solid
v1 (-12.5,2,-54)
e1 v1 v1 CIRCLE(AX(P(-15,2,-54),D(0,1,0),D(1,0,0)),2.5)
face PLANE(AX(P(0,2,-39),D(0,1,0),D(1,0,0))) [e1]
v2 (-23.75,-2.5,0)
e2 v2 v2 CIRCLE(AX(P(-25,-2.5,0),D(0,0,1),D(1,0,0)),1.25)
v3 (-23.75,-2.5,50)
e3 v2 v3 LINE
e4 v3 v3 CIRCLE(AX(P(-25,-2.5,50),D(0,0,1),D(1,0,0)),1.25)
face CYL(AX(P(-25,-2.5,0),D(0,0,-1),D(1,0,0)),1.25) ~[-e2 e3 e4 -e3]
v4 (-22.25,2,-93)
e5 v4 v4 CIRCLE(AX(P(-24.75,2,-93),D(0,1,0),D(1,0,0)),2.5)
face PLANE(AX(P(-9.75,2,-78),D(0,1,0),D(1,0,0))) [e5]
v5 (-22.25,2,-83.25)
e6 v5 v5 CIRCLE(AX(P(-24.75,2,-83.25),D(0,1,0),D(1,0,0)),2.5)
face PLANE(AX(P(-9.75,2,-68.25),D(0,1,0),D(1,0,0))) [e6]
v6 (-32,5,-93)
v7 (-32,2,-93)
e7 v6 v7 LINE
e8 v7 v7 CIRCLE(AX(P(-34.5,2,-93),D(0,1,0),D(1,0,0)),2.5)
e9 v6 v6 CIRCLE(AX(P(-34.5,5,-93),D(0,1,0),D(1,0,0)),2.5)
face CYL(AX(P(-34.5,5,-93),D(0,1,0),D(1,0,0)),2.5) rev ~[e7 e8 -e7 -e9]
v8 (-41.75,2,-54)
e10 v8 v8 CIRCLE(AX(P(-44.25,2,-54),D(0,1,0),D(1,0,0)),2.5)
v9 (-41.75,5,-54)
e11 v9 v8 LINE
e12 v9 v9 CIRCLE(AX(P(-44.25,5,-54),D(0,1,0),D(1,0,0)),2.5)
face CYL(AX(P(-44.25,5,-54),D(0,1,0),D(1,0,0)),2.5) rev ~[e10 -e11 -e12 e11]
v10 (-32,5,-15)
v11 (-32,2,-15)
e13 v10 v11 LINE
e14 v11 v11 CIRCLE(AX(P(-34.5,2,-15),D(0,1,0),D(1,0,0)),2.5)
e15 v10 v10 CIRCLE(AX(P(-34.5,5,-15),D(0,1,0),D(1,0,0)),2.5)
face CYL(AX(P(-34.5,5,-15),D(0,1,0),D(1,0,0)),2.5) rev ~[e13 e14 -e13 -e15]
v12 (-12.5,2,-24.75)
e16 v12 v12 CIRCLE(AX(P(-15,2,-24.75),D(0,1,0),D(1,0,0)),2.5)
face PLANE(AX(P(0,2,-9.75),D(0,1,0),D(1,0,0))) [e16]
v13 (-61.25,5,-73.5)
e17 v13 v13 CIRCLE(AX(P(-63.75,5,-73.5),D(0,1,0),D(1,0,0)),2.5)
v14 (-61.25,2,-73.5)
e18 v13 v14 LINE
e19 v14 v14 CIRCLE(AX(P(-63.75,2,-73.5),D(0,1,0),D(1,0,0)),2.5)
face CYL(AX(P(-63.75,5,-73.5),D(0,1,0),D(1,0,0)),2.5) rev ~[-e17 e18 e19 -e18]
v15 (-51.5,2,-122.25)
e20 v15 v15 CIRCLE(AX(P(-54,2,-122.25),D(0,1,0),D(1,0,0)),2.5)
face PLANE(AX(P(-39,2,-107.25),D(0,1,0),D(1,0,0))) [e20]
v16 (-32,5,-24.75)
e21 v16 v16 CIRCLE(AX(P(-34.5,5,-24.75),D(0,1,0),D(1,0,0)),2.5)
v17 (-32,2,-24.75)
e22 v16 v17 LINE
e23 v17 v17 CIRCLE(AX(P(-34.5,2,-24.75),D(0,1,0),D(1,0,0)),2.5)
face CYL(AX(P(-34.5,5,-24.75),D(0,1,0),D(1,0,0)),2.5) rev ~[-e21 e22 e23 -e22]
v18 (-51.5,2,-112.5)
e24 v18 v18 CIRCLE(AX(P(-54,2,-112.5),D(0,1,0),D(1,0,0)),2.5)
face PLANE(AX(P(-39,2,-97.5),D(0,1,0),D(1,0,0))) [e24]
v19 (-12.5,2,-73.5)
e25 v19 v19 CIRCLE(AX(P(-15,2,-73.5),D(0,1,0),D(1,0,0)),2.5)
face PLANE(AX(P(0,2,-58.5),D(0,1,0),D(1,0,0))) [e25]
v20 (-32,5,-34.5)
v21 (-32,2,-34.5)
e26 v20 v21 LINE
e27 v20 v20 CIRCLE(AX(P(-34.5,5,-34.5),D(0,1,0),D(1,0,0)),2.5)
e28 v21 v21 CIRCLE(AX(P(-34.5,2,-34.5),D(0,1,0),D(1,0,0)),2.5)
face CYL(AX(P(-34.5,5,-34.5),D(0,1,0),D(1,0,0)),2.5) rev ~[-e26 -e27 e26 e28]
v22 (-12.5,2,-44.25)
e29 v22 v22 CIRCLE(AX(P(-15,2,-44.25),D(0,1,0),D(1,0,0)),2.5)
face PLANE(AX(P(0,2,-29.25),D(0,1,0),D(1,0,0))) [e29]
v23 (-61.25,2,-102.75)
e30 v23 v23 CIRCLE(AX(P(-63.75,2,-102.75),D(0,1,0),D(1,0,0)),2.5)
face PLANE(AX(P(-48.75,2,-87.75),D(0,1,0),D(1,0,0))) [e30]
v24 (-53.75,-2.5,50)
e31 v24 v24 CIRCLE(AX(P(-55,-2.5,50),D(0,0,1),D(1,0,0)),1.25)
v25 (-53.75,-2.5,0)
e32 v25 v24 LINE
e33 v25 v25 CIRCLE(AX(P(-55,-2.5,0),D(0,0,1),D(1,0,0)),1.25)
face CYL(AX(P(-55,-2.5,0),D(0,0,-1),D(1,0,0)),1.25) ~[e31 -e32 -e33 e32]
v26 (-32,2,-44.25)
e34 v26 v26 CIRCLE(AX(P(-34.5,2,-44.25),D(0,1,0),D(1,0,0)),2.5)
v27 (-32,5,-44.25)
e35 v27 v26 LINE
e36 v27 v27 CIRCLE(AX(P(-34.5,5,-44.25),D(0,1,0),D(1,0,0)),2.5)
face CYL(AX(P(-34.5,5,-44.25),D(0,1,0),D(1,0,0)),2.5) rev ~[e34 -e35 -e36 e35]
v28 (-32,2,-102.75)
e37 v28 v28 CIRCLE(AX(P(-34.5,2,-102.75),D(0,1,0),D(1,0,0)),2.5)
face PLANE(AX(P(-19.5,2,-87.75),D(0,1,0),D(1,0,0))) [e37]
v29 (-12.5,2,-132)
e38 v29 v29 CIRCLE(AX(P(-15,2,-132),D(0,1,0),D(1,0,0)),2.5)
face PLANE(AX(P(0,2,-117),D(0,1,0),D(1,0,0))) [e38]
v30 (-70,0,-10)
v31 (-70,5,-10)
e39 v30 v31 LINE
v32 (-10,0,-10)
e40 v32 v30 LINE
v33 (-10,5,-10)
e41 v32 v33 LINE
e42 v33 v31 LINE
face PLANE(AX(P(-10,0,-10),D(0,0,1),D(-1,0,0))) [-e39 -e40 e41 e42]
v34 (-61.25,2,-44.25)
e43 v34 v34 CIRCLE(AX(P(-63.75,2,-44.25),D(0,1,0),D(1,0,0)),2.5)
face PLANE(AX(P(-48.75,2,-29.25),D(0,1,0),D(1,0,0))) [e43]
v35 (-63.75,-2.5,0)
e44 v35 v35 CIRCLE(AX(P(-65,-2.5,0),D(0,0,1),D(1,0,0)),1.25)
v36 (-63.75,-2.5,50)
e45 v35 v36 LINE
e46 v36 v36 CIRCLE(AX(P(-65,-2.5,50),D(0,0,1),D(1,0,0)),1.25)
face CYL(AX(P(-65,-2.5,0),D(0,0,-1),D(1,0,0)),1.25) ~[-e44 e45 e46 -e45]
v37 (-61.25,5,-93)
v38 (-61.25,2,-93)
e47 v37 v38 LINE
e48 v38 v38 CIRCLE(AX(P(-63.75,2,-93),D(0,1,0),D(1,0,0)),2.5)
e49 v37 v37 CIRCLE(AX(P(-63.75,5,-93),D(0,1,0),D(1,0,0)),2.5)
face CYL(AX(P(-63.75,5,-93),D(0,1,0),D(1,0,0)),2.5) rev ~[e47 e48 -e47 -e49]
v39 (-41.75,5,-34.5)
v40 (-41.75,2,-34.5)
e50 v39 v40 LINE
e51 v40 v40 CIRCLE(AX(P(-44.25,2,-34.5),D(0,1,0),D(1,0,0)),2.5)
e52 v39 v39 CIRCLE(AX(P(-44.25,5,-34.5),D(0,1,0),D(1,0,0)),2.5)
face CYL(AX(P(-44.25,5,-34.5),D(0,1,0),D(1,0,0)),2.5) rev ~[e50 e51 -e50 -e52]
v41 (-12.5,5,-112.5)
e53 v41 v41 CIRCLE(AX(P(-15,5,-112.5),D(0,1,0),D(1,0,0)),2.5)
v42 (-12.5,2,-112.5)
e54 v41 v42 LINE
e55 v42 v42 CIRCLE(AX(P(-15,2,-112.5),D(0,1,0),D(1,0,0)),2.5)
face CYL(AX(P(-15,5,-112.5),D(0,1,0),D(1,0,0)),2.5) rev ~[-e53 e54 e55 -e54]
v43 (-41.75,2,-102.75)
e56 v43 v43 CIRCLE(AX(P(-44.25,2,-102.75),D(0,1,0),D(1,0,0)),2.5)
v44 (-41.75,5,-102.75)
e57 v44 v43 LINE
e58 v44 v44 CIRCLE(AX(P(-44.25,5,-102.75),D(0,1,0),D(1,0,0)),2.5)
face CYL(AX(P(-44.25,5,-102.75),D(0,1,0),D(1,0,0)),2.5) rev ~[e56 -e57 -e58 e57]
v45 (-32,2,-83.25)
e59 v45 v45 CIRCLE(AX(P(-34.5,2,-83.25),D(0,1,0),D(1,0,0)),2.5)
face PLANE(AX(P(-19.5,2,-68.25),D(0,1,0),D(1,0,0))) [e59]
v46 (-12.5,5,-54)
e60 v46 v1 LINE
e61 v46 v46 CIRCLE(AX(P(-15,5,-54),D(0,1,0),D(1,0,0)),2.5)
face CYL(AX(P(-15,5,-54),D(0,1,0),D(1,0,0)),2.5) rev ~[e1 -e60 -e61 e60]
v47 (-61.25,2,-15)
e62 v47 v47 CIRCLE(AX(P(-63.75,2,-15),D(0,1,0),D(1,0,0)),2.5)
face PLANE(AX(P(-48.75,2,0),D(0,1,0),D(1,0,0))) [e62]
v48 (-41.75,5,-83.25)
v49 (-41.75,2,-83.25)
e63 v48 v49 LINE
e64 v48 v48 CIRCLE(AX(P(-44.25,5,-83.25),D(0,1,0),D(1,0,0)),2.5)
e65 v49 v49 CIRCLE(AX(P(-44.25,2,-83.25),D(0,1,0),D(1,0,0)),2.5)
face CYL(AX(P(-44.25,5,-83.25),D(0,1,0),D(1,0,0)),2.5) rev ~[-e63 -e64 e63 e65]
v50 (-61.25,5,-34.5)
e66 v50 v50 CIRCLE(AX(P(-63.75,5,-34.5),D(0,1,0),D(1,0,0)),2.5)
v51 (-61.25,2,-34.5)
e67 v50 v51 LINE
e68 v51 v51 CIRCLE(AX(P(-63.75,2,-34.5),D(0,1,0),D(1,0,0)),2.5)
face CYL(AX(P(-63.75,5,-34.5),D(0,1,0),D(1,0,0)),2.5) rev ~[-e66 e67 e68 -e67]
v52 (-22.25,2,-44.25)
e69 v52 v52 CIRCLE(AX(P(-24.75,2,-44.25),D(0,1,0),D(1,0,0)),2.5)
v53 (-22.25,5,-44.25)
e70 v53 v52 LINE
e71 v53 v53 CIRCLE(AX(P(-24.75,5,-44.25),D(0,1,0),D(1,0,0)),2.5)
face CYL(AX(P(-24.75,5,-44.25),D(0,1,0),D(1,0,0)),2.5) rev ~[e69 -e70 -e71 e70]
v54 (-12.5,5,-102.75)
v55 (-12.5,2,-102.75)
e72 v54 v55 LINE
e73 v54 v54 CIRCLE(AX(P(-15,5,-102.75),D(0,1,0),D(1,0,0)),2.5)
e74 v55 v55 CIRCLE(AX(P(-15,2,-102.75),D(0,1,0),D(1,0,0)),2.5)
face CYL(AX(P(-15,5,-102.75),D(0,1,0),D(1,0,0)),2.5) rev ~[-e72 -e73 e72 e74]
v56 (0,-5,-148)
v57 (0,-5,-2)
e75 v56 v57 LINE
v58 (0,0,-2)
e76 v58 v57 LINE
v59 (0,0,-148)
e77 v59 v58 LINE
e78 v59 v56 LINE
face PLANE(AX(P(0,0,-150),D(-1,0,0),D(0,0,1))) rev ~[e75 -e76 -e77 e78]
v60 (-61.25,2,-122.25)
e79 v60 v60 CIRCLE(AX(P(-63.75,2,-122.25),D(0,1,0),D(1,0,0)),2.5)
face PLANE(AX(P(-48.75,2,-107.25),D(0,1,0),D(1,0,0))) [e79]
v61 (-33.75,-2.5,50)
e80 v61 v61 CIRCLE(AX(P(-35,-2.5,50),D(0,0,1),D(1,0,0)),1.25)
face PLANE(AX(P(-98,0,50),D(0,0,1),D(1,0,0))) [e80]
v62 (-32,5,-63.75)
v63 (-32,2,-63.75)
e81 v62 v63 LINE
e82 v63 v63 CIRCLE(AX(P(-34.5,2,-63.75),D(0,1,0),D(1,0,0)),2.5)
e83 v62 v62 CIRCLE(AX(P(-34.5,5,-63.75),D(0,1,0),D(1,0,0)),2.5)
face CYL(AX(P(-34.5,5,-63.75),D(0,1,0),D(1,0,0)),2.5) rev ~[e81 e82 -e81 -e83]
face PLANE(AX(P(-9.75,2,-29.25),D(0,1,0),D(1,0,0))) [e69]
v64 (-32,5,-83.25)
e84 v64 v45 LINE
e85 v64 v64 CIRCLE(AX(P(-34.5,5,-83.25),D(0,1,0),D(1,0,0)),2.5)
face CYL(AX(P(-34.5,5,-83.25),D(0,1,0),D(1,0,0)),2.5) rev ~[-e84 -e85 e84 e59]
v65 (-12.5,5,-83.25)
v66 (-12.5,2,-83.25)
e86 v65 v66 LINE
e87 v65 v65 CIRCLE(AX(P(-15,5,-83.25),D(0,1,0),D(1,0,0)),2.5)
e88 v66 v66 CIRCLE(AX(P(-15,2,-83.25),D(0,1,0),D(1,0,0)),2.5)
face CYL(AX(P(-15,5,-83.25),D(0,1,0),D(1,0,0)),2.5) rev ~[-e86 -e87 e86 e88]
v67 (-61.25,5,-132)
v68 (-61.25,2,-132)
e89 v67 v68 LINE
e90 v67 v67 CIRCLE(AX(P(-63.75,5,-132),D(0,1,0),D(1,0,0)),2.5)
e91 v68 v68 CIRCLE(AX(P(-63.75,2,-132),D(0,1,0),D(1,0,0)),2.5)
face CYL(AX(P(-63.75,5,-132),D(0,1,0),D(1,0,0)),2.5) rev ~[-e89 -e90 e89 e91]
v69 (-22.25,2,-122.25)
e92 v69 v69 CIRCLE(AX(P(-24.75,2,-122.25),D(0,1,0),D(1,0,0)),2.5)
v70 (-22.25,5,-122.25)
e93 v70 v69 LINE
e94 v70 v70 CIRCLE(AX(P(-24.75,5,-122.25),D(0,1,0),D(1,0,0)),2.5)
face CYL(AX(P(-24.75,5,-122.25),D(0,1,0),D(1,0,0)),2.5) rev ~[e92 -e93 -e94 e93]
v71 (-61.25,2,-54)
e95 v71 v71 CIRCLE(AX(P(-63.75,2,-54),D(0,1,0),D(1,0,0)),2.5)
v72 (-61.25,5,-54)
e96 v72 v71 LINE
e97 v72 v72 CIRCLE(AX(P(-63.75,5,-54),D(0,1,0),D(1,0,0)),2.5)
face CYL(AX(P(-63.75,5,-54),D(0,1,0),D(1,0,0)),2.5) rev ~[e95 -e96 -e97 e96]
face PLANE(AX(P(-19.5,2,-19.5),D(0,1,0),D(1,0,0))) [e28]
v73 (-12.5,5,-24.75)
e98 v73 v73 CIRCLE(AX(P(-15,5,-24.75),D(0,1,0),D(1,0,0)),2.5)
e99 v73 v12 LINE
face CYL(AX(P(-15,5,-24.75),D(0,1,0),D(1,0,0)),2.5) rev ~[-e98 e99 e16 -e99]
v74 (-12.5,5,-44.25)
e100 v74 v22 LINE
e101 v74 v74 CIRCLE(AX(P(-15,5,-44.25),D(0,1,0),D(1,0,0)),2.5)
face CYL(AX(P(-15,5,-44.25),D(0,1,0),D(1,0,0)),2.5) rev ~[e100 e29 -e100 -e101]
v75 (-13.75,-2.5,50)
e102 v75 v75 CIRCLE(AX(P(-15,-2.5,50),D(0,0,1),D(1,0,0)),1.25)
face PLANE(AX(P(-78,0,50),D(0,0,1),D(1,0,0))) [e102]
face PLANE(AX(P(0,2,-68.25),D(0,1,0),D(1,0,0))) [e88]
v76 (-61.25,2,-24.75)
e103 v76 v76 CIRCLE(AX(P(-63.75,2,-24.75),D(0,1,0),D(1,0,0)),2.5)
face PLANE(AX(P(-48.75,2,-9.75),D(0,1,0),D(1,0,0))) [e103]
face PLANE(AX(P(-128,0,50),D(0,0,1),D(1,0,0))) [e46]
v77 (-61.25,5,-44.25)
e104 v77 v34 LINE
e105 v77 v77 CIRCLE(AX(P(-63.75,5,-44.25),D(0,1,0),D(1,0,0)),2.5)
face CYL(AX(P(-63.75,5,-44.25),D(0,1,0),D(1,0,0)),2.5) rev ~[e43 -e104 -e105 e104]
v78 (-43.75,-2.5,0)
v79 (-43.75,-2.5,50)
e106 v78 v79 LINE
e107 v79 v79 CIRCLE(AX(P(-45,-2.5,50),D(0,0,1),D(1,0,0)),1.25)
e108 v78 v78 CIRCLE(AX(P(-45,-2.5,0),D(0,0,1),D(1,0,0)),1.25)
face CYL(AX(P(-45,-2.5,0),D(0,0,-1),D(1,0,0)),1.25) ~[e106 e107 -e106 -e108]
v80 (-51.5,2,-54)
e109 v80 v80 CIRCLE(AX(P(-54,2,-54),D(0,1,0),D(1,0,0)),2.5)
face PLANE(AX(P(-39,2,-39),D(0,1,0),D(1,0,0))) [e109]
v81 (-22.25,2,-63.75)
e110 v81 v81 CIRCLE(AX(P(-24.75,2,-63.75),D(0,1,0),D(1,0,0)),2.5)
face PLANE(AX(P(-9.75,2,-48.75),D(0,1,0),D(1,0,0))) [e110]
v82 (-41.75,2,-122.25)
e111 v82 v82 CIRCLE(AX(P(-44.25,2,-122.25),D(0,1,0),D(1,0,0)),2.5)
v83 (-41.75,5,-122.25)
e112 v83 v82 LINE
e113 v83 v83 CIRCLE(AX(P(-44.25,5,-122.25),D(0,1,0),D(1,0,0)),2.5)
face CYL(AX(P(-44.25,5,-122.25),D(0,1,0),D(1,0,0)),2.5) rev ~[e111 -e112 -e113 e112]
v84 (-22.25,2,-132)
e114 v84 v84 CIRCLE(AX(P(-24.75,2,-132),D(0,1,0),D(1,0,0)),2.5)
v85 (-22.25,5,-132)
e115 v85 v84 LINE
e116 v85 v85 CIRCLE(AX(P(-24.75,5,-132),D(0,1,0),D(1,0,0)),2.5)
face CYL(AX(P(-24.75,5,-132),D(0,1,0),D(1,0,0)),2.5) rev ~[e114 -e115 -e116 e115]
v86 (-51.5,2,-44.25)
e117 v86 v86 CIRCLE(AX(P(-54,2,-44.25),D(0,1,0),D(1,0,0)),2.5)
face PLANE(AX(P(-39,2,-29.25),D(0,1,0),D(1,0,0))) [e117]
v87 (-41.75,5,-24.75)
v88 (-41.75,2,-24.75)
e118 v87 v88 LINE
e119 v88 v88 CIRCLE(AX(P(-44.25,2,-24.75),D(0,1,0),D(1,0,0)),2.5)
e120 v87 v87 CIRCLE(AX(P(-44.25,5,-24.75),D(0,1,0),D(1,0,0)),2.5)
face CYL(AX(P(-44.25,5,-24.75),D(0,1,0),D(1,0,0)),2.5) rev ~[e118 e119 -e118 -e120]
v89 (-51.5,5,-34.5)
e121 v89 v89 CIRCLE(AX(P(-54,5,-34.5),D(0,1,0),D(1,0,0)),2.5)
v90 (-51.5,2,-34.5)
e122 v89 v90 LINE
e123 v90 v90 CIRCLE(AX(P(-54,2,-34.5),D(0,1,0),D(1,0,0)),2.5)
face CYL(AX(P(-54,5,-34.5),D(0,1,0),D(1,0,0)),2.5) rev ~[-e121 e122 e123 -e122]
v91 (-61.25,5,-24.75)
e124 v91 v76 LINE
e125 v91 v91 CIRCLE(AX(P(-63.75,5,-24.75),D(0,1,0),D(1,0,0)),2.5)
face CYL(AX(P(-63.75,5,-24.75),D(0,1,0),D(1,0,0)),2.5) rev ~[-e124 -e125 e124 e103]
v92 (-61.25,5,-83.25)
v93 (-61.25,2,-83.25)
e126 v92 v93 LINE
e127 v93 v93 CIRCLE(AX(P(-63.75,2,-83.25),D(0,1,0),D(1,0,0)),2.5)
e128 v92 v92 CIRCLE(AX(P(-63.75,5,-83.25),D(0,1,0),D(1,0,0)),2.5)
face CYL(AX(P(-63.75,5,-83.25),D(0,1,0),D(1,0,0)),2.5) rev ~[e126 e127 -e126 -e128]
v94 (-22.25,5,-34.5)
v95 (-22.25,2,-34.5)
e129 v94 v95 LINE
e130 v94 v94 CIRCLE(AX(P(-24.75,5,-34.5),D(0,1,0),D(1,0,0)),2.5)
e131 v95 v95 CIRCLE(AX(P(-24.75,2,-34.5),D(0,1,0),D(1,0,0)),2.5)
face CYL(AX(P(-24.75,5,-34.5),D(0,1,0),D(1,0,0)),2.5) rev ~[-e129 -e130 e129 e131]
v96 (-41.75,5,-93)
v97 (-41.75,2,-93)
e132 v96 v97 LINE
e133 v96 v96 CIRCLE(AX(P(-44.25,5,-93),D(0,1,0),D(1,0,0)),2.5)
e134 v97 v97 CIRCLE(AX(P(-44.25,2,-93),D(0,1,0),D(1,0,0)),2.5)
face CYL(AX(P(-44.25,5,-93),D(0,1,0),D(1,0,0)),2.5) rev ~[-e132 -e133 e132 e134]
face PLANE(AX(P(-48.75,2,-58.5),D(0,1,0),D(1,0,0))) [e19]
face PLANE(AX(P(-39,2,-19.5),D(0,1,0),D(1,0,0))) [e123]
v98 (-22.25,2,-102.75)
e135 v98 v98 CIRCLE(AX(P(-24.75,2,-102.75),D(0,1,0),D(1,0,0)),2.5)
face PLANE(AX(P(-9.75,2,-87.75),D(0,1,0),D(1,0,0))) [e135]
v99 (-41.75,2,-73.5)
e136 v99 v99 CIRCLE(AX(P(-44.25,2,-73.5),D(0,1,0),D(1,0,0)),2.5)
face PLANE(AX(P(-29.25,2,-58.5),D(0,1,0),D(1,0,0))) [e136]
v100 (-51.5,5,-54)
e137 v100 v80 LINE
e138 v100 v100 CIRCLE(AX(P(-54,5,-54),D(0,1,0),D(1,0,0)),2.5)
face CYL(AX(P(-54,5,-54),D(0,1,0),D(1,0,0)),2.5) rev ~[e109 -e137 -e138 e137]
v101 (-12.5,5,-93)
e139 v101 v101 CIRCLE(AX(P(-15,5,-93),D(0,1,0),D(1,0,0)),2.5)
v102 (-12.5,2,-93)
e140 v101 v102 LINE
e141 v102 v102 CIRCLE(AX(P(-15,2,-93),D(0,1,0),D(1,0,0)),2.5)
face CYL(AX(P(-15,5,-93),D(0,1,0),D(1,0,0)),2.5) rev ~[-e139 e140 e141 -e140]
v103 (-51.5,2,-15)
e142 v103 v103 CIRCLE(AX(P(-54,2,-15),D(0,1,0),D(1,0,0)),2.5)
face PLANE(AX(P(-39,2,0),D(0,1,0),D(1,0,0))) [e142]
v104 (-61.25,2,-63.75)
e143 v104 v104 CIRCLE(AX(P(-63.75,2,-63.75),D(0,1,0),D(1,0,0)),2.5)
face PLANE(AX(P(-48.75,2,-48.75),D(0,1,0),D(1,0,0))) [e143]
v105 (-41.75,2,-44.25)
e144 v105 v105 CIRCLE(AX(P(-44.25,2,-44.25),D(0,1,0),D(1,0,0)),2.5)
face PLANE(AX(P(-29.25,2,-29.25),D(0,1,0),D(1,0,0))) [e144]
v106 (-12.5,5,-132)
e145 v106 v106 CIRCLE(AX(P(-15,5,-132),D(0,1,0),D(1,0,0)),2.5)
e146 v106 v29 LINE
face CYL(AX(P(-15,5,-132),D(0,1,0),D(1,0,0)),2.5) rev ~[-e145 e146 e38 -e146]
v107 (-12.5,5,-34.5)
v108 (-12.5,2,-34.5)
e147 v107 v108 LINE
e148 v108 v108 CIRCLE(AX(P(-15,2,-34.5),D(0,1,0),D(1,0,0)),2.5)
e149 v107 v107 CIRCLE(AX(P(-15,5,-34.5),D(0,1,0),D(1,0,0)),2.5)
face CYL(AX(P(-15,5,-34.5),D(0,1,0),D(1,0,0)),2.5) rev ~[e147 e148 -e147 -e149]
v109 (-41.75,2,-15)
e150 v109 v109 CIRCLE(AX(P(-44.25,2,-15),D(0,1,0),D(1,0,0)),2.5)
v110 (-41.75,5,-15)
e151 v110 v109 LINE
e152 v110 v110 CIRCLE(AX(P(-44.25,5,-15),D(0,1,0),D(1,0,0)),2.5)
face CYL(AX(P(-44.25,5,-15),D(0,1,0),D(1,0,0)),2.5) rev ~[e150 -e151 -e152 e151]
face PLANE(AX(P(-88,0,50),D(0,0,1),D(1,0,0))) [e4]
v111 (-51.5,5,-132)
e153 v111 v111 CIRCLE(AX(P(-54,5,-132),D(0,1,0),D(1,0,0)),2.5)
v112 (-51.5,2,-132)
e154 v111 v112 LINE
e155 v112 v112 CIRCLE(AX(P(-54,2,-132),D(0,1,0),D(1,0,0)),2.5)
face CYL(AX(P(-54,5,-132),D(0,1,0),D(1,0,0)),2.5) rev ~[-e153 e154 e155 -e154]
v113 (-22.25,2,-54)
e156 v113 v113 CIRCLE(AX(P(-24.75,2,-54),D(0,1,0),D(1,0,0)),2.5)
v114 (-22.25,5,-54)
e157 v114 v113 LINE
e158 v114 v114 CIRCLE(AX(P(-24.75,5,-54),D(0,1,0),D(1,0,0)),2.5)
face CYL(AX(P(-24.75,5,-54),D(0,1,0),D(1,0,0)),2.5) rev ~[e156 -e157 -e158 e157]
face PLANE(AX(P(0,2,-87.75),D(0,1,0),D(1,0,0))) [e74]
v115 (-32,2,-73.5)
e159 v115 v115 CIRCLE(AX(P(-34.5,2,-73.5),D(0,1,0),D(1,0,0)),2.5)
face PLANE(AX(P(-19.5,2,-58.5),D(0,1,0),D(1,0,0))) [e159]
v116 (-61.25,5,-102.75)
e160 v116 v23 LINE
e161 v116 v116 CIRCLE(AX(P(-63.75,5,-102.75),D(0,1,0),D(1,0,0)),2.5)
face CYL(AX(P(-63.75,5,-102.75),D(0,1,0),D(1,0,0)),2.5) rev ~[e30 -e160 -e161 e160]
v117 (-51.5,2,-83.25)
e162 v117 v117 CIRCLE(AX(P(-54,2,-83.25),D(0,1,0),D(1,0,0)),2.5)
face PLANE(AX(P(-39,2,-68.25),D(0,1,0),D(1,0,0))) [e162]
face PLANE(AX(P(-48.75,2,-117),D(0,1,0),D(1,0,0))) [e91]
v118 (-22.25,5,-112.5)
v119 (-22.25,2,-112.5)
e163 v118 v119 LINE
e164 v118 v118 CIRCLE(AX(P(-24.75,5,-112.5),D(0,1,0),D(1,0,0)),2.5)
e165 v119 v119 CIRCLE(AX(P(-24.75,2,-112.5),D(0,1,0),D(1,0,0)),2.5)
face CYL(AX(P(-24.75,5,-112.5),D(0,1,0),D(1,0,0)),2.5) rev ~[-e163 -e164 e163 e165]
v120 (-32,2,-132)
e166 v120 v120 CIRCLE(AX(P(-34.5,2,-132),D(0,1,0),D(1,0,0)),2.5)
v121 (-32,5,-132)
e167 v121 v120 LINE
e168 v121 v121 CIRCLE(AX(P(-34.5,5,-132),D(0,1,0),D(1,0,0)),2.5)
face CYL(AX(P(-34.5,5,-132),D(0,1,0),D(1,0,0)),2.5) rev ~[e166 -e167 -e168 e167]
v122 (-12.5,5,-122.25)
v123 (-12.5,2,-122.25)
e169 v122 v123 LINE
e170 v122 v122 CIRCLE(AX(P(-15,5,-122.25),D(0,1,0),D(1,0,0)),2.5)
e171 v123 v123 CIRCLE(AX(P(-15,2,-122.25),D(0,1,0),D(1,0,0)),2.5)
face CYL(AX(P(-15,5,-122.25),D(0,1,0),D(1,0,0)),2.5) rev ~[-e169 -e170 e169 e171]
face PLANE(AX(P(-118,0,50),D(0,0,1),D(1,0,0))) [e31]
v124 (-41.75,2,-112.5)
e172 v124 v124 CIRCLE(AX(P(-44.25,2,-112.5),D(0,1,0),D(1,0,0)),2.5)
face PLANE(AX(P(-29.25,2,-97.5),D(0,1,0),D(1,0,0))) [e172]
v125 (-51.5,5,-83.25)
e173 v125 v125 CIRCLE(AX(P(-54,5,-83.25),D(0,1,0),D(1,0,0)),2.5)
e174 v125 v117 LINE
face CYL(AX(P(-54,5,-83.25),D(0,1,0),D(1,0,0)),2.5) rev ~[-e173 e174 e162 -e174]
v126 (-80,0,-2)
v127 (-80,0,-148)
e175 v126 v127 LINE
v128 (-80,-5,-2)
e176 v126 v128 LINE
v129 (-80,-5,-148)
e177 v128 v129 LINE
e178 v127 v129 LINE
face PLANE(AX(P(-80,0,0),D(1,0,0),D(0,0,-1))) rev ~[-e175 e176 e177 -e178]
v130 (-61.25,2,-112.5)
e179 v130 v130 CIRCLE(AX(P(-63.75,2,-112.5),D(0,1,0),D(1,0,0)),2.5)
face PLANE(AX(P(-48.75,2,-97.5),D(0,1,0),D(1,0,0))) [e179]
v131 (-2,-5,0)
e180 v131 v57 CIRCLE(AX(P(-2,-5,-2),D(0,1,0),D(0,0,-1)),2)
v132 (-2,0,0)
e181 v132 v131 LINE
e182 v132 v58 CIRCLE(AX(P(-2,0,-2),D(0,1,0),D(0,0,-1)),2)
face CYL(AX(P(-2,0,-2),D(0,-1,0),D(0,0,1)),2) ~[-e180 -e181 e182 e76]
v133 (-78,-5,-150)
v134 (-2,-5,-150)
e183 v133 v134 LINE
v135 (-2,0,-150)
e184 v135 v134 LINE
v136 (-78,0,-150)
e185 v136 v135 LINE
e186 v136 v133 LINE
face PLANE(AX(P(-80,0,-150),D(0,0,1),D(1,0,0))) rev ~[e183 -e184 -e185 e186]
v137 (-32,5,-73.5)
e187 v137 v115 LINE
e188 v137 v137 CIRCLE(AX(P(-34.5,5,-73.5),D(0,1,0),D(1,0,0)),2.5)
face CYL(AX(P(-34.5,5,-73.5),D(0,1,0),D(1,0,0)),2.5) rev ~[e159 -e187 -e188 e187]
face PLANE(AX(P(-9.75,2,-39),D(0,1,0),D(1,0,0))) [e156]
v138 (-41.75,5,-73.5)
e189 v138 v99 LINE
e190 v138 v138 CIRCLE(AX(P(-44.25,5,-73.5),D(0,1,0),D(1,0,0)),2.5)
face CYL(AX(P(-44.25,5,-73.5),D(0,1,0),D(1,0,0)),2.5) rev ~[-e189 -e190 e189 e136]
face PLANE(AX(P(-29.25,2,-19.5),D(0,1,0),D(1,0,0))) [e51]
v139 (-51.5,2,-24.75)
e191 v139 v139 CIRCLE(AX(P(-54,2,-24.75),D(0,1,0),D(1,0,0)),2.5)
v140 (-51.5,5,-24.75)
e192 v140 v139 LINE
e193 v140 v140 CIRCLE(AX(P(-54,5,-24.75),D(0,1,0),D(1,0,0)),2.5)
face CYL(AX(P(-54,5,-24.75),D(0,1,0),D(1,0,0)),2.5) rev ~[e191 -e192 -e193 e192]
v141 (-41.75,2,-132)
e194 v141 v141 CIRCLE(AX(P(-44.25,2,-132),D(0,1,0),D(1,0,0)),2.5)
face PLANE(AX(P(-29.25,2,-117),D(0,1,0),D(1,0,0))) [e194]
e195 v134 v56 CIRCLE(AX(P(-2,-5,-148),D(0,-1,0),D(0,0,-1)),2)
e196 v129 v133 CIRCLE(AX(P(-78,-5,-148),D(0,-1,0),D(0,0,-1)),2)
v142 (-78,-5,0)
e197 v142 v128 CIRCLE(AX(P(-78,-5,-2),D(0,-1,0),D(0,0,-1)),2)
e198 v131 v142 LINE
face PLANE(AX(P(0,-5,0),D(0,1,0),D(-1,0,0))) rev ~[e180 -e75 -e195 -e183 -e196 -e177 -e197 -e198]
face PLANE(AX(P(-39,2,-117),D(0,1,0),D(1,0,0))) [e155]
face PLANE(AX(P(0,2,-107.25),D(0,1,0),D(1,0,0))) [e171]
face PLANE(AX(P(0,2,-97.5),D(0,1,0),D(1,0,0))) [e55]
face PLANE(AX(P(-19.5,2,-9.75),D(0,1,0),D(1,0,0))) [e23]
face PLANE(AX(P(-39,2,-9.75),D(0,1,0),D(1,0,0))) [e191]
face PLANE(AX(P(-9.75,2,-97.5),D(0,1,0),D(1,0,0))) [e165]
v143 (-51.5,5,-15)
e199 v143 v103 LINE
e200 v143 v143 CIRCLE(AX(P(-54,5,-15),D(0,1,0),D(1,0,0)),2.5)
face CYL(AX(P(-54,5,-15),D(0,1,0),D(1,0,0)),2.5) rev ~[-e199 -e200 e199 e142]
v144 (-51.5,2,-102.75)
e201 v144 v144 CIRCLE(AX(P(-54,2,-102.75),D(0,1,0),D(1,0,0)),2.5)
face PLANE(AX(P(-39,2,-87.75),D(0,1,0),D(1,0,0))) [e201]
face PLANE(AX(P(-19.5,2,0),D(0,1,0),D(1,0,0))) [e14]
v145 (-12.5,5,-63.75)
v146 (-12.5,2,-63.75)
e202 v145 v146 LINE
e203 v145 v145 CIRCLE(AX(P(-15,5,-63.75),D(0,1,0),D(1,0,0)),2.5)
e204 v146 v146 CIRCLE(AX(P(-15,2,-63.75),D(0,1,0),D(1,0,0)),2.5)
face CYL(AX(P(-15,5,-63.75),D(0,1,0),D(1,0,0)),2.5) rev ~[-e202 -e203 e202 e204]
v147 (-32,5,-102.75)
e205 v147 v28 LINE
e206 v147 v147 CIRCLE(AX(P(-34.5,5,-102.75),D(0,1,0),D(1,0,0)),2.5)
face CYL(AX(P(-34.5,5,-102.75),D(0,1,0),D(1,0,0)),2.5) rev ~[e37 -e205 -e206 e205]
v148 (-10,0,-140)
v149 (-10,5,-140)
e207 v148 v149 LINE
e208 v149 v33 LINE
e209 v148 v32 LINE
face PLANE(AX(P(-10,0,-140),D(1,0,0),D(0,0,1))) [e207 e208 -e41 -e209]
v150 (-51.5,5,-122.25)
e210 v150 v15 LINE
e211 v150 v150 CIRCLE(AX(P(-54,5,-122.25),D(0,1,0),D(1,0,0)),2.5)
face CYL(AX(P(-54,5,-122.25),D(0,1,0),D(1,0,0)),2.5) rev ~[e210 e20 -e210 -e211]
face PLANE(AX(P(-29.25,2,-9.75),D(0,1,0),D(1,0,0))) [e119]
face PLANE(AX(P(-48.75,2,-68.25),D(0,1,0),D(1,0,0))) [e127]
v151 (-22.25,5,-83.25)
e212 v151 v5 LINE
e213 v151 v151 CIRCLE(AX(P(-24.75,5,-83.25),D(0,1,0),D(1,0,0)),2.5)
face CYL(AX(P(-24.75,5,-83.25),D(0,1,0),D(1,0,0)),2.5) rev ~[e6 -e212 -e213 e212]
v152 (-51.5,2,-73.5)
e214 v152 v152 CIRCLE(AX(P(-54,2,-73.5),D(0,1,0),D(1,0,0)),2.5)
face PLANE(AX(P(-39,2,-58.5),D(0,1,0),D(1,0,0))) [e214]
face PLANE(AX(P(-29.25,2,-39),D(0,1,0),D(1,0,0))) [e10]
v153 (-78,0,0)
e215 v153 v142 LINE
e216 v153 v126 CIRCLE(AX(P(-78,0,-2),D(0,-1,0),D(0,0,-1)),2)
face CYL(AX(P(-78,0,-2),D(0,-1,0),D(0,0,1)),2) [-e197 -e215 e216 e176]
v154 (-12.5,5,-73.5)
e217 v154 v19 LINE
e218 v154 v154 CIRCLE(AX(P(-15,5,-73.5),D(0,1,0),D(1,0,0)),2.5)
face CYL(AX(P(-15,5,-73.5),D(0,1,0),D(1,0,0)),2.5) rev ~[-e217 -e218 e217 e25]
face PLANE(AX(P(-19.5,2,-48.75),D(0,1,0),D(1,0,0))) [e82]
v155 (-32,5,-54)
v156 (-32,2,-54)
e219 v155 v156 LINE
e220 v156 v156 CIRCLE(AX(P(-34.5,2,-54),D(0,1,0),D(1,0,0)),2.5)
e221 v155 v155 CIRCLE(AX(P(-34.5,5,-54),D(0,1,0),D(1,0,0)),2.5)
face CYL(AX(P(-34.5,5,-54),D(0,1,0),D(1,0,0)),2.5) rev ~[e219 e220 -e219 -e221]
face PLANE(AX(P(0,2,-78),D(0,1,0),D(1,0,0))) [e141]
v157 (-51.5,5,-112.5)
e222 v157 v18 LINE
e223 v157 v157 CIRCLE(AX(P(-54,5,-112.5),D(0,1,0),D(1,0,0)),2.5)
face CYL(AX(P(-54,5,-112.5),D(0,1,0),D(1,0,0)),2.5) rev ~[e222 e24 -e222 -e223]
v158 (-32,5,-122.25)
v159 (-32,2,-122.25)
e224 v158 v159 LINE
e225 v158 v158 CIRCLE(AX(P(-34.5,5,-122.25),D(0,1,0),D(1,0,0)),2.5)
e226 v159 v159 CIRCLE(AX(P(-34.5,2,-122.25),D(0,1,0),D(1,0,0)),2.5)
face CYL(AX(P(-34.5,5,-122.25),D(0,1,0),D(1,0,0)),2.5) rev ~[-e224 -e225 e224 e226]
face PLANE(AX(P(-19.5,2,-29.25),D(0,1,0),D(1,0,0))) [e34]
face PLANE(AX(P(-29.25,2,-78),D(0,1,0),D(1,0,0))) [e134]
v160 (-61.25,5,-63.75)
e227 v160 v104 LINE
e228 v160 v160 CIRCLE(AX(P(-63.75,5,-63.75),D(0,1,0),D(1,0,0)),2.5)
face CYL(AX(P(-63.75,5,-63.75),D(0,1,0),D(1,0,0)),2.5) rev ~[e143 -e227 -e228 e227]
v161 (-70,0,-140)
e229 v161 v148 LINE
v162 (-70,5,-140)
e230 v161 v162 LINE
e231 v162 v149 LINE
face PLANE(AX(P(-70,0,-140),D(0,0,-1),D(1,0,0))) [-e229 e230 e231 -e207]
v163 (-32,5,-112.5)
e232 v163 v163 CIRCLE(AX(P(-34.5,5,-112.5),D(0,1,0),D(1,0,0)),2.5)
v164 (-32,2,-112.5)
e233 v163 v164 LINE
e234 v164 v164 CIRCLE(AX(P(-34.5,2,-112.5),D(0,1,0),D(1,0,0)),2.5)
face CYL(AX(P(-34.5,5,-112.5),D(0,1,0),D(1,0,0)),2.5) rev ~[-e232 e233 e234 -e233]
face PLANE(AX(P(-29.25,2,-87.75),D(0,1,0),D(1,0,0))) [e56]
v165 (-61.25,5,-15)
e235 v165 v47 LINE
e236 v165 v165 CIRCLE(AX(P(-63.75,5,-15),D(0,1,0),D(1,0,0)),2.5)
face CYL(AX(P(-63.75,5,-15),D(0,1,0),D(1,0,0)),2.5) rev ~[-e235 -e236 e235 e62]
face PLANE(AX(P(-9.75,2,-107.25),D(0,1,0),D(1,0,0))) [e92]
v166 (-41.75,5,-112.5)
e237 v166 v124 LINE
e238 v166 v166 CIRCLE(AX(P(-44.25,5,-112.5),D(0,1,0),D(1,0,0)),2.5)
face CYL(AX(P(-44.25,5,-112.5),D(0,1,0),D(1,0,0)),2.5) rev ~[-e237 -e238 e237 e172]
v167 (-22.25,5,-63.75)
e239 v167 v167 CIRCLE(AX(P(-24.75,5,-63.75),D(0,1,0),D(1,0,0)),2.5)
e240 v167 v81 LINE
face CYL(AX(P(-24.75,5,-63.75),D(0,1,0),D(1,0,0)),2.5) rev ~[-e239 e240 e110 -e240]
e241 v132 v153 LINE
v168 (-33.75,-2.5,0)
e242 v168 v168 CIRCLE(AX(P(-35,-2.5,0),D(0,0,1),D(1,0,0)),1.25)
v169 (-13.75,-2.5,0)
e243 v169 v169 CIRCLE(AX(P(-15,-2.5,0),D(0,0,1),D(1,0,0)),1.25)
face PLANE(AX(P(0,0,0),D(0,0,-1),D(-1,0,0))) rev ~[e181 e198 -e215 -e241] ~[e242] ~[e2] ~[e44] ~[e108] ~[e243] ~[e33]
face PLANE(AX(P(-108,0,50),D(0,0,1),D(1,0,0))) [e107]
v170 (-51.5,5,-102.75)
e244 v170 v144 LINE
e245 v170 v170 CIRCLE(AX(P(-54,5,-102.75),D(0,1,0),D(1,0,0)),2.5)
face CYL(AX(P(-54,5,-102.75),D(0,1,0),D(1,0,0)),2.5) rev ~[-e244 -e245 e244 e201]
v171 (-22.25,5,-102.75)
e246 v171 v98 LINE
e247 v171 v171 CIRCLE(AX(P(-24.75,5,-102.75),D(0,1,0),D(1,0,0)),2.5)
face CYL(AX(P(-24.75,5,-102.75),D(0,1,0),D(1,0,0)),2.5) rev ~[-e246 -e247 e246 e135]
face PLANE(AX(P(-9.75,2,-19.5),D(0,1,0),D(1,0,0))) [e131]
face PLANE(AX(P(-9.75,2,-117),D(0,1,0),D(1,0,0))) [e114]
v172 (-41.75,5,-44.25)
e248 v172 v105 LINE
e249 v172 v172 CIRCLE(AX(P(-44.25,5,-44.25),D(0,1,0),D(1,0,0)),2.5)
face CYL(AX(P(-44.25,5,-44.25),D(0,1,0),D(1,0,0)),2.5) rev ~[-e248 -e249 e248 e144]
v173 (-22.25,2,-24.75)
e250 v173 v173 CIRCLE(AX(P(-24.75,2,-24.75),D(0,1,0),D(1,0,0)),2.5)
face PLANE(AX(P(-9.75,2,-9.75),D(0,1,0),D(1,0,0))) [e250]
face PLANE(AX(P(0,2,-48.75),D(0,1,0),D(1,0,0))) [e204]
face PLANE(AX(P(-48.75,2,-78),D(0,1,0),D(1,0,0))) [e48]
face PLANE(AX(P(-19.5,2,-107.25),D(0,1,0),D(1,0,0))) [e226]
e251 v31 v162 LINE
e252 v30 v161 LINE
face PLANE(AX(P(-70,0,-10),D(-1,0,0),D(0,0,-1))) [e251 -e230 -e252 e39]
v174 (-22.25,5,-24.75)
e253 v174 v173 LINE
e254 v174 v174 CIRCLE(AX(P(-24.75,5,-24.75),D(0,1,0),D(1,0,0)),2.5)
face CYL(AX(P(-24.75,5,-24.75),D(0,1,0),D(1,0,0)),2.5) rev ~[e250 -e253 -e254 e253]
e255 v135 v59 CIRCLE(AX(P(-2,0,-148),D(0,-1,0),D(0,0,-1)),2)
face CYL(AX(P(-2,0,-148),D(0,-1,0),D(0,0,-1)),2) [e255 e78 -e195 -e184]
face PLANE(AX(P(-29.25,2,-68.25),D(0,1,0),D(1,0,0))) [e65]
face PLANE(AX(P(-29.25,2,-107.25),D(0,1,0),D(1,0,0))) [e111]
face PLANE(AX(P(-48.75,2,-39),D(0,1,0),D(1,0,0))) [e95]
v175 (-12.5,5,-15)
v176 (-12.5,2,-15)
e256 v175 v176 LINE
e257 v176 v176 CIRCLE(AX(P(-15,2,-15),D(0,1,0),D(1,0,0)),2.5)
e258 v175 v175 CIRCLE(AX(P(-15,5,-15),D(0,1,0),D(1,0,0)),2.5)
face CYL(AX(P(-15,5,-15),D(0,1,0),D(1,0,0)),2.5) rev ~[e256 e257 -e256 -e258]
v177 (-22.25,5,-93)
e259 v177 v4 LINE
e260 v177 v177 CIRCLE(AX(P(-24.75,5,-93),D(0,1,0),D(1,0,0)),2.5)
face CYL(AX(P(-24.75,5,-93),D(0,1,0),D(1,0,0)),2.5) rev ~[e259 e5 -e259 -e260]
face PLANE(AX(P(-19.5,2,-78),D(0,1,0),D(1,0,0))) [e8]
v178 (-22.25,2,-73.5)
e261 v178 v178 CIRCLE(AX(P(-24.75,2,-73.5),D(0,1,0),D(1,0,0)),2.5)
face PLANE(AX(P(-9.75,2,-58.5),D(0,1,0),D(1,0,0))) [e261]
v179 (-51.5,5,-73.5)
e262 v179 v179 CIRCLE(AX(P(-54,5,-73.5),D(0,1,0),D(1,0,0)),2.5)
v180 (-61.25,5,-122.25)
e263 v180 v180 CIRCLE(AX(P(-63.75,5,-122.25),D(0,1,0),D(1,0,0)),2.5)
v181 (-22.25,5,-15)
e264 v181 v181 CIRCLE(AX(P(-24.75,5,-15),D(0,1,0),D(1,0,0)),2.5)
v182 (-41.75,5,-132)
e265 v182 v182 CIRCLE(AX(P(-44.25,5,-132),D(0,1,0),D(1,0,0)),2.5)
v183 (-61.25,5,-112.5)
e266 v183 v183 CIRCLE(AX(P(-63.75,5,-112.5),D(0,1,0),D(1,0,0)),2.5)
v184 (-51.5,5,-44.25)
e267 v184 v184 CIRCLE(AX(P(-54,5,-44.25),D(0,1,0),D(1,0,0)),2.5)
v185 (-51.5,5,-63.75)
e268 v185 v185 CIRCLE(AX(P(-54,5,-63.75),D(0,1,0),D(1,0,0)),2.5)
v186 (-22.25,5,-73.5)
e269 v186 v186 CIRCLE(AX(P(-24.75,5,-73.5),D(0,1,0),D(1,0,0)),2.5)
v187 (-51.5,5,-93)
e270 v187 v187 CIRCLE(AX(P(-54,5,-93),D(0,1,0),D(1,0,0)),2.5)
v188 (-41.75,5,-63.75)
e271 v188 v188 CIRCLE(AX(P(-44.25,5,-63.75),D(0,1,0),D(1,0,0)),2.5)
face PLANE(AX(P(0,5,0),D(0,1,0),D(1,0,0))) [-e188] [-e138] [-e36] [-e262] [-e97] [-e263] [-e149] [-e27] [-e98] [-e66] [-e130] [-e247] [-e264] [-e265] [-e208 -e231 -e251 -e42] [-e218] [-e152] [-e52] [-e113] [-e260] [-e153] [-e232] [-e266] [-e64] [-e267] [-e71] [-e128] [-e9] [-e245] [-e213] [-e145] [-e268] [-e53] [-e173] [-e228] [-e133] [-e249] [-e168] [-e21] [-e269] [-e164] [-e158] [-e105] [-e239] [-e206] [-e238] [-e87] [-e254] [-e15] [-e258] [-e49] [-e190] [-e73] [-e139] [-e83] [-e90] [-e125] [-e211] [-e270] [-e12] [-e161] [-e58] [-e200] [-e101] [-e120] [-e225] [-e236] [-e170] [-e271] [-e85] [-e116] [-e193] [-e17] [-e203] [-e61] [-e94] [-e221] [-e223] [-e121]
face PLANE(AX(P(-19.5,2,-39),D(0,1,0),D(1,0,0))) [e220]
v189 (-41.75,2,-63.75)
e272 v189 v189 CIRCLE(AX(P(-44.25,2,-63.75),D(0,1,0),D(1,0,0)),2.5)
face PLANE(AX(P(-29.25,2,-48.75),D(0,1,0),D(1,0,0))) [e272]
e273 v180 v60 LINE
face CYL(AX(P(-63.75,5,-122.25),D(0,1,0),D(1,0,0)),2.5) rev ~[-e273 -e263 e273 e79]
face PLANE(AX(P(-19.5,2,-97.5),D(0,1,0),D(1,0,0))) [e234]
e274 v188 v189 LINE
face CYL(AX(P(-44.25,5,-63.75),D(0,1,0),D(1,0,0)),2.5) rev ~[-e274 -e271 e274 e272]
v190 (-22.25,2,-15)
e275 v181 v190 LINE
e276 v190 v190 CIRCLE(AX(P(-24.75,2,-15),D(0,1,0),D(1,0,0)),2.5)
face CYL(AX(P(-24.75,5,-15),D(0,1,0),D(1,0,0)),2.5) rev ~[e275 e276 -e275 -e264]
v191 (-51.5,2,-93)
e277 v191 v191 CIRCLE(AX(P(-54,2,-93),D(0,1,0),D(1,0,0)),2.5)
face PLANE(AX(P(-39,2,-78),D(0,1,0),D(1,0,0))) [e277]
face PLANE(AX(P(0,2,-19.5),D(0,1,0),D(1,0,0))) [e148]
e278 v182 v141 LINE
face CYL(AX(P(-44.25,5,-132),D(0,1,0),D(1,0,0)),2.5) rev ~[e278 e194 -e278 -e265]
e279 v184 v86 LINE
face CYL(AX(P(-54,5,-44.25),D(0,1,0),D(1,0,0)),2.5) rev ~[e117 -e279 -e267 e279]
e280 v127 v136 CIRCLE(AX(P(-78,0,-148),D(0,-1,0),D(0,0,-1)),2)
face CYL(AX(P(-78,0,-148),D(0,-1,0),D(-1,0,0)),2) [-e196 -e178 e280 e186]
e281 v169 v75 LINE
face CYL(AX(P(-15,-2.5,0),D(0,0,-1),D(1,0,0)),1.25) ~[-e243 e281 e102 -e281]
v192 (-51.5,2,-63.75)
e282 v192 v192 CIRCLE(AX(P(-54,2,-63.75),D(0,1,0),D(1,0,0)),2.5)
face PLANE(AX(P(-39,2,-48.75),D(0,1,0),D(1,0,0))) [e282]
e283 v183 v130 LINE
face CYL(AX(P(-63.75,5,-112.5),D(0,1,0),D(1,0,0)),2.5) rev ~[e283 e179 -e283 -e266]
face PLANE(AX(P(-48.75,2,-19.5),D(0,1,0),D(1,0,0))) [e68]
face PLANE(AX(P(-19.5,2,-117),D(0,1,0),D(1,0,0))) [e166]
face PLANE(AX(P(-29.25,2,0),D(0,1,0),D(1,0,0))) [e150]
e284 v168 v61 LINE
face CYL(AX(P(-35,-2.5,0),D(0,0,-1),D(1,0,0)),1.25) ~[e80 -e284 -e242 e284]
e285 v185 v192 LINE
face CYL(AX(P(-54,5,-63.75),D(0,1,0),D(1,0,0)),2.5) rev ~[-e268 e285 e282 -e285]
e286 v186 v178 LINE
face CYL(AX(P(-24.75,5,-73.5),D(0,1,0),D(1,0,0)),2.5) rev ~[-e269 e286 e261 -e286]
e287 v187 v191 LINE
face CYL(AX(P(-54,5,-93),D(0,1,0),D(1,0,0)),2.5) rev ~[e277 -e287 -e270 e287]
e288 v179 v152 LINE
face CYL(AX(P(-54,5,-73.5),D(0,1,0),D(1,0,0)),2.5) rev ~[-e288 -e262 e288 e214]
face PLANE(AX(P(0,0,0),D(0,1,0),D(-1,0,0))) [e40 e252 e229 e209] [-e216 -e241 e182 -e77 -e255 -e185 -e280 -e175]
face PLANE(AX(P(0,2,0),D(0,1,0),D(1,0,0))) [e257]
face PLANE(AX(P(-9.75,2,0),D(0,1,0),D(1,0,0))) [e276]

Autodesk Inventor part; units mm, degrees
ref_plane "YZ Plane" through (0, 0, 0) normal (1, 0, 0) x (0, 1, 0)
ref_plane "XZ Plane" through (0, 0, 0) normal (0, 1, 0) x (-1, 0, 0)
ref_plane "XY Plane" through (0, 0, 0) normal (0, 0, 1) x (1, 0, 0)
sketch "Sketch1" plane through (0, 0, 0) normal (0, 1, 0) x (-1, 0, 0)
  line L0 (0, 0) -> (80, 0)
  line L1 (80, 0) -> (80, -150)
  line L2 (80, -150) -> (0, -150)
  line L3 (0, -150) -> (0, 0)
  dimension "d0" = 80
  dimension "d1" = 150
extrude "Extrusion1" add sketch "Sketch1" against normal blind 5
fillet "Fillet1" radius 2 4 edges at (0, -2.5, 0) (0, -2.5, -150) (-80, -2.5, 0) (-80, -2.5, -150)
sketch "Sketch2" plane through (0, 0, 0) normal (0, 1, 0) x (1, 0, 0)
  line L0 (-70, 140) -> (-10, 140)
  line L1 (-10, 140) -> (-10, 10)
  line L2 (-10, 10) -> (-70, 10)
  line L3 (-70, 10) -> (-70, 140)
  line L4 (-2, 150) -> (-78, 150) projected
  line L5 (0, 2) -> (0, 148) projected
  line L6 (-80, 148) -> (-80, 2) projected
  point P0 (0, 0)
  dimension "d5" = 10
  dimension "d6" = 10
  dimension "d7" = 10
  dimension "d8" = 10
extrude "Extrusion2" add sketch "Sketch2" along normal blind 5
sketch "Sketch3" plane through (0, 5, 0) normal (0, 1, 0) x (1, 0, 0)
  point P0 (0, 0)
sketch "Sketch5" plane through (0, 5, 0) normal (0, 1, 0) x (1, 0, 0)
  circle A0 centre (-15, 15) radius 2.5
  line L0 (-70, 10) -> (-10, 10) projected
  line L1 (-10, 10) -> (-10, 140) projected
  point P0 (0, 0)
  dimension "d11" = 5
  dimension "d12" = 5
  dimension "d13" = 5
extrude "Extrusion3" cut sketch "Sketch5" against normal blind 3
pattern_linear "Rectangular Pattern1" count 6 spacing -9.75 along (1, 0, 0) count 13 spacing 9.75 along (0, 0, -1) of "Extrusion3"
sketch "Sketch6" plane through (-78, 0, 0) normal (0, 0, 1) x (1, 0, 0)
  circle A0 centre (63, -2.5) radius 1.25
  line L0 (0, 0) -> (76, 0) projected
  line L1 (78, -5) -> (78, 0) projected
  dimension "d22" = 2.5
  dimension "d23" = 2.5
  dimension "d24" = 15
extrude "Extrusion4" add sketch "Sketch6" along normal blind 50
pattern_linear "Rectangular Pattern2" count 6 spacing -10 along (1, 0, 0) of "Extrusion4"
properties part number "circuit"
